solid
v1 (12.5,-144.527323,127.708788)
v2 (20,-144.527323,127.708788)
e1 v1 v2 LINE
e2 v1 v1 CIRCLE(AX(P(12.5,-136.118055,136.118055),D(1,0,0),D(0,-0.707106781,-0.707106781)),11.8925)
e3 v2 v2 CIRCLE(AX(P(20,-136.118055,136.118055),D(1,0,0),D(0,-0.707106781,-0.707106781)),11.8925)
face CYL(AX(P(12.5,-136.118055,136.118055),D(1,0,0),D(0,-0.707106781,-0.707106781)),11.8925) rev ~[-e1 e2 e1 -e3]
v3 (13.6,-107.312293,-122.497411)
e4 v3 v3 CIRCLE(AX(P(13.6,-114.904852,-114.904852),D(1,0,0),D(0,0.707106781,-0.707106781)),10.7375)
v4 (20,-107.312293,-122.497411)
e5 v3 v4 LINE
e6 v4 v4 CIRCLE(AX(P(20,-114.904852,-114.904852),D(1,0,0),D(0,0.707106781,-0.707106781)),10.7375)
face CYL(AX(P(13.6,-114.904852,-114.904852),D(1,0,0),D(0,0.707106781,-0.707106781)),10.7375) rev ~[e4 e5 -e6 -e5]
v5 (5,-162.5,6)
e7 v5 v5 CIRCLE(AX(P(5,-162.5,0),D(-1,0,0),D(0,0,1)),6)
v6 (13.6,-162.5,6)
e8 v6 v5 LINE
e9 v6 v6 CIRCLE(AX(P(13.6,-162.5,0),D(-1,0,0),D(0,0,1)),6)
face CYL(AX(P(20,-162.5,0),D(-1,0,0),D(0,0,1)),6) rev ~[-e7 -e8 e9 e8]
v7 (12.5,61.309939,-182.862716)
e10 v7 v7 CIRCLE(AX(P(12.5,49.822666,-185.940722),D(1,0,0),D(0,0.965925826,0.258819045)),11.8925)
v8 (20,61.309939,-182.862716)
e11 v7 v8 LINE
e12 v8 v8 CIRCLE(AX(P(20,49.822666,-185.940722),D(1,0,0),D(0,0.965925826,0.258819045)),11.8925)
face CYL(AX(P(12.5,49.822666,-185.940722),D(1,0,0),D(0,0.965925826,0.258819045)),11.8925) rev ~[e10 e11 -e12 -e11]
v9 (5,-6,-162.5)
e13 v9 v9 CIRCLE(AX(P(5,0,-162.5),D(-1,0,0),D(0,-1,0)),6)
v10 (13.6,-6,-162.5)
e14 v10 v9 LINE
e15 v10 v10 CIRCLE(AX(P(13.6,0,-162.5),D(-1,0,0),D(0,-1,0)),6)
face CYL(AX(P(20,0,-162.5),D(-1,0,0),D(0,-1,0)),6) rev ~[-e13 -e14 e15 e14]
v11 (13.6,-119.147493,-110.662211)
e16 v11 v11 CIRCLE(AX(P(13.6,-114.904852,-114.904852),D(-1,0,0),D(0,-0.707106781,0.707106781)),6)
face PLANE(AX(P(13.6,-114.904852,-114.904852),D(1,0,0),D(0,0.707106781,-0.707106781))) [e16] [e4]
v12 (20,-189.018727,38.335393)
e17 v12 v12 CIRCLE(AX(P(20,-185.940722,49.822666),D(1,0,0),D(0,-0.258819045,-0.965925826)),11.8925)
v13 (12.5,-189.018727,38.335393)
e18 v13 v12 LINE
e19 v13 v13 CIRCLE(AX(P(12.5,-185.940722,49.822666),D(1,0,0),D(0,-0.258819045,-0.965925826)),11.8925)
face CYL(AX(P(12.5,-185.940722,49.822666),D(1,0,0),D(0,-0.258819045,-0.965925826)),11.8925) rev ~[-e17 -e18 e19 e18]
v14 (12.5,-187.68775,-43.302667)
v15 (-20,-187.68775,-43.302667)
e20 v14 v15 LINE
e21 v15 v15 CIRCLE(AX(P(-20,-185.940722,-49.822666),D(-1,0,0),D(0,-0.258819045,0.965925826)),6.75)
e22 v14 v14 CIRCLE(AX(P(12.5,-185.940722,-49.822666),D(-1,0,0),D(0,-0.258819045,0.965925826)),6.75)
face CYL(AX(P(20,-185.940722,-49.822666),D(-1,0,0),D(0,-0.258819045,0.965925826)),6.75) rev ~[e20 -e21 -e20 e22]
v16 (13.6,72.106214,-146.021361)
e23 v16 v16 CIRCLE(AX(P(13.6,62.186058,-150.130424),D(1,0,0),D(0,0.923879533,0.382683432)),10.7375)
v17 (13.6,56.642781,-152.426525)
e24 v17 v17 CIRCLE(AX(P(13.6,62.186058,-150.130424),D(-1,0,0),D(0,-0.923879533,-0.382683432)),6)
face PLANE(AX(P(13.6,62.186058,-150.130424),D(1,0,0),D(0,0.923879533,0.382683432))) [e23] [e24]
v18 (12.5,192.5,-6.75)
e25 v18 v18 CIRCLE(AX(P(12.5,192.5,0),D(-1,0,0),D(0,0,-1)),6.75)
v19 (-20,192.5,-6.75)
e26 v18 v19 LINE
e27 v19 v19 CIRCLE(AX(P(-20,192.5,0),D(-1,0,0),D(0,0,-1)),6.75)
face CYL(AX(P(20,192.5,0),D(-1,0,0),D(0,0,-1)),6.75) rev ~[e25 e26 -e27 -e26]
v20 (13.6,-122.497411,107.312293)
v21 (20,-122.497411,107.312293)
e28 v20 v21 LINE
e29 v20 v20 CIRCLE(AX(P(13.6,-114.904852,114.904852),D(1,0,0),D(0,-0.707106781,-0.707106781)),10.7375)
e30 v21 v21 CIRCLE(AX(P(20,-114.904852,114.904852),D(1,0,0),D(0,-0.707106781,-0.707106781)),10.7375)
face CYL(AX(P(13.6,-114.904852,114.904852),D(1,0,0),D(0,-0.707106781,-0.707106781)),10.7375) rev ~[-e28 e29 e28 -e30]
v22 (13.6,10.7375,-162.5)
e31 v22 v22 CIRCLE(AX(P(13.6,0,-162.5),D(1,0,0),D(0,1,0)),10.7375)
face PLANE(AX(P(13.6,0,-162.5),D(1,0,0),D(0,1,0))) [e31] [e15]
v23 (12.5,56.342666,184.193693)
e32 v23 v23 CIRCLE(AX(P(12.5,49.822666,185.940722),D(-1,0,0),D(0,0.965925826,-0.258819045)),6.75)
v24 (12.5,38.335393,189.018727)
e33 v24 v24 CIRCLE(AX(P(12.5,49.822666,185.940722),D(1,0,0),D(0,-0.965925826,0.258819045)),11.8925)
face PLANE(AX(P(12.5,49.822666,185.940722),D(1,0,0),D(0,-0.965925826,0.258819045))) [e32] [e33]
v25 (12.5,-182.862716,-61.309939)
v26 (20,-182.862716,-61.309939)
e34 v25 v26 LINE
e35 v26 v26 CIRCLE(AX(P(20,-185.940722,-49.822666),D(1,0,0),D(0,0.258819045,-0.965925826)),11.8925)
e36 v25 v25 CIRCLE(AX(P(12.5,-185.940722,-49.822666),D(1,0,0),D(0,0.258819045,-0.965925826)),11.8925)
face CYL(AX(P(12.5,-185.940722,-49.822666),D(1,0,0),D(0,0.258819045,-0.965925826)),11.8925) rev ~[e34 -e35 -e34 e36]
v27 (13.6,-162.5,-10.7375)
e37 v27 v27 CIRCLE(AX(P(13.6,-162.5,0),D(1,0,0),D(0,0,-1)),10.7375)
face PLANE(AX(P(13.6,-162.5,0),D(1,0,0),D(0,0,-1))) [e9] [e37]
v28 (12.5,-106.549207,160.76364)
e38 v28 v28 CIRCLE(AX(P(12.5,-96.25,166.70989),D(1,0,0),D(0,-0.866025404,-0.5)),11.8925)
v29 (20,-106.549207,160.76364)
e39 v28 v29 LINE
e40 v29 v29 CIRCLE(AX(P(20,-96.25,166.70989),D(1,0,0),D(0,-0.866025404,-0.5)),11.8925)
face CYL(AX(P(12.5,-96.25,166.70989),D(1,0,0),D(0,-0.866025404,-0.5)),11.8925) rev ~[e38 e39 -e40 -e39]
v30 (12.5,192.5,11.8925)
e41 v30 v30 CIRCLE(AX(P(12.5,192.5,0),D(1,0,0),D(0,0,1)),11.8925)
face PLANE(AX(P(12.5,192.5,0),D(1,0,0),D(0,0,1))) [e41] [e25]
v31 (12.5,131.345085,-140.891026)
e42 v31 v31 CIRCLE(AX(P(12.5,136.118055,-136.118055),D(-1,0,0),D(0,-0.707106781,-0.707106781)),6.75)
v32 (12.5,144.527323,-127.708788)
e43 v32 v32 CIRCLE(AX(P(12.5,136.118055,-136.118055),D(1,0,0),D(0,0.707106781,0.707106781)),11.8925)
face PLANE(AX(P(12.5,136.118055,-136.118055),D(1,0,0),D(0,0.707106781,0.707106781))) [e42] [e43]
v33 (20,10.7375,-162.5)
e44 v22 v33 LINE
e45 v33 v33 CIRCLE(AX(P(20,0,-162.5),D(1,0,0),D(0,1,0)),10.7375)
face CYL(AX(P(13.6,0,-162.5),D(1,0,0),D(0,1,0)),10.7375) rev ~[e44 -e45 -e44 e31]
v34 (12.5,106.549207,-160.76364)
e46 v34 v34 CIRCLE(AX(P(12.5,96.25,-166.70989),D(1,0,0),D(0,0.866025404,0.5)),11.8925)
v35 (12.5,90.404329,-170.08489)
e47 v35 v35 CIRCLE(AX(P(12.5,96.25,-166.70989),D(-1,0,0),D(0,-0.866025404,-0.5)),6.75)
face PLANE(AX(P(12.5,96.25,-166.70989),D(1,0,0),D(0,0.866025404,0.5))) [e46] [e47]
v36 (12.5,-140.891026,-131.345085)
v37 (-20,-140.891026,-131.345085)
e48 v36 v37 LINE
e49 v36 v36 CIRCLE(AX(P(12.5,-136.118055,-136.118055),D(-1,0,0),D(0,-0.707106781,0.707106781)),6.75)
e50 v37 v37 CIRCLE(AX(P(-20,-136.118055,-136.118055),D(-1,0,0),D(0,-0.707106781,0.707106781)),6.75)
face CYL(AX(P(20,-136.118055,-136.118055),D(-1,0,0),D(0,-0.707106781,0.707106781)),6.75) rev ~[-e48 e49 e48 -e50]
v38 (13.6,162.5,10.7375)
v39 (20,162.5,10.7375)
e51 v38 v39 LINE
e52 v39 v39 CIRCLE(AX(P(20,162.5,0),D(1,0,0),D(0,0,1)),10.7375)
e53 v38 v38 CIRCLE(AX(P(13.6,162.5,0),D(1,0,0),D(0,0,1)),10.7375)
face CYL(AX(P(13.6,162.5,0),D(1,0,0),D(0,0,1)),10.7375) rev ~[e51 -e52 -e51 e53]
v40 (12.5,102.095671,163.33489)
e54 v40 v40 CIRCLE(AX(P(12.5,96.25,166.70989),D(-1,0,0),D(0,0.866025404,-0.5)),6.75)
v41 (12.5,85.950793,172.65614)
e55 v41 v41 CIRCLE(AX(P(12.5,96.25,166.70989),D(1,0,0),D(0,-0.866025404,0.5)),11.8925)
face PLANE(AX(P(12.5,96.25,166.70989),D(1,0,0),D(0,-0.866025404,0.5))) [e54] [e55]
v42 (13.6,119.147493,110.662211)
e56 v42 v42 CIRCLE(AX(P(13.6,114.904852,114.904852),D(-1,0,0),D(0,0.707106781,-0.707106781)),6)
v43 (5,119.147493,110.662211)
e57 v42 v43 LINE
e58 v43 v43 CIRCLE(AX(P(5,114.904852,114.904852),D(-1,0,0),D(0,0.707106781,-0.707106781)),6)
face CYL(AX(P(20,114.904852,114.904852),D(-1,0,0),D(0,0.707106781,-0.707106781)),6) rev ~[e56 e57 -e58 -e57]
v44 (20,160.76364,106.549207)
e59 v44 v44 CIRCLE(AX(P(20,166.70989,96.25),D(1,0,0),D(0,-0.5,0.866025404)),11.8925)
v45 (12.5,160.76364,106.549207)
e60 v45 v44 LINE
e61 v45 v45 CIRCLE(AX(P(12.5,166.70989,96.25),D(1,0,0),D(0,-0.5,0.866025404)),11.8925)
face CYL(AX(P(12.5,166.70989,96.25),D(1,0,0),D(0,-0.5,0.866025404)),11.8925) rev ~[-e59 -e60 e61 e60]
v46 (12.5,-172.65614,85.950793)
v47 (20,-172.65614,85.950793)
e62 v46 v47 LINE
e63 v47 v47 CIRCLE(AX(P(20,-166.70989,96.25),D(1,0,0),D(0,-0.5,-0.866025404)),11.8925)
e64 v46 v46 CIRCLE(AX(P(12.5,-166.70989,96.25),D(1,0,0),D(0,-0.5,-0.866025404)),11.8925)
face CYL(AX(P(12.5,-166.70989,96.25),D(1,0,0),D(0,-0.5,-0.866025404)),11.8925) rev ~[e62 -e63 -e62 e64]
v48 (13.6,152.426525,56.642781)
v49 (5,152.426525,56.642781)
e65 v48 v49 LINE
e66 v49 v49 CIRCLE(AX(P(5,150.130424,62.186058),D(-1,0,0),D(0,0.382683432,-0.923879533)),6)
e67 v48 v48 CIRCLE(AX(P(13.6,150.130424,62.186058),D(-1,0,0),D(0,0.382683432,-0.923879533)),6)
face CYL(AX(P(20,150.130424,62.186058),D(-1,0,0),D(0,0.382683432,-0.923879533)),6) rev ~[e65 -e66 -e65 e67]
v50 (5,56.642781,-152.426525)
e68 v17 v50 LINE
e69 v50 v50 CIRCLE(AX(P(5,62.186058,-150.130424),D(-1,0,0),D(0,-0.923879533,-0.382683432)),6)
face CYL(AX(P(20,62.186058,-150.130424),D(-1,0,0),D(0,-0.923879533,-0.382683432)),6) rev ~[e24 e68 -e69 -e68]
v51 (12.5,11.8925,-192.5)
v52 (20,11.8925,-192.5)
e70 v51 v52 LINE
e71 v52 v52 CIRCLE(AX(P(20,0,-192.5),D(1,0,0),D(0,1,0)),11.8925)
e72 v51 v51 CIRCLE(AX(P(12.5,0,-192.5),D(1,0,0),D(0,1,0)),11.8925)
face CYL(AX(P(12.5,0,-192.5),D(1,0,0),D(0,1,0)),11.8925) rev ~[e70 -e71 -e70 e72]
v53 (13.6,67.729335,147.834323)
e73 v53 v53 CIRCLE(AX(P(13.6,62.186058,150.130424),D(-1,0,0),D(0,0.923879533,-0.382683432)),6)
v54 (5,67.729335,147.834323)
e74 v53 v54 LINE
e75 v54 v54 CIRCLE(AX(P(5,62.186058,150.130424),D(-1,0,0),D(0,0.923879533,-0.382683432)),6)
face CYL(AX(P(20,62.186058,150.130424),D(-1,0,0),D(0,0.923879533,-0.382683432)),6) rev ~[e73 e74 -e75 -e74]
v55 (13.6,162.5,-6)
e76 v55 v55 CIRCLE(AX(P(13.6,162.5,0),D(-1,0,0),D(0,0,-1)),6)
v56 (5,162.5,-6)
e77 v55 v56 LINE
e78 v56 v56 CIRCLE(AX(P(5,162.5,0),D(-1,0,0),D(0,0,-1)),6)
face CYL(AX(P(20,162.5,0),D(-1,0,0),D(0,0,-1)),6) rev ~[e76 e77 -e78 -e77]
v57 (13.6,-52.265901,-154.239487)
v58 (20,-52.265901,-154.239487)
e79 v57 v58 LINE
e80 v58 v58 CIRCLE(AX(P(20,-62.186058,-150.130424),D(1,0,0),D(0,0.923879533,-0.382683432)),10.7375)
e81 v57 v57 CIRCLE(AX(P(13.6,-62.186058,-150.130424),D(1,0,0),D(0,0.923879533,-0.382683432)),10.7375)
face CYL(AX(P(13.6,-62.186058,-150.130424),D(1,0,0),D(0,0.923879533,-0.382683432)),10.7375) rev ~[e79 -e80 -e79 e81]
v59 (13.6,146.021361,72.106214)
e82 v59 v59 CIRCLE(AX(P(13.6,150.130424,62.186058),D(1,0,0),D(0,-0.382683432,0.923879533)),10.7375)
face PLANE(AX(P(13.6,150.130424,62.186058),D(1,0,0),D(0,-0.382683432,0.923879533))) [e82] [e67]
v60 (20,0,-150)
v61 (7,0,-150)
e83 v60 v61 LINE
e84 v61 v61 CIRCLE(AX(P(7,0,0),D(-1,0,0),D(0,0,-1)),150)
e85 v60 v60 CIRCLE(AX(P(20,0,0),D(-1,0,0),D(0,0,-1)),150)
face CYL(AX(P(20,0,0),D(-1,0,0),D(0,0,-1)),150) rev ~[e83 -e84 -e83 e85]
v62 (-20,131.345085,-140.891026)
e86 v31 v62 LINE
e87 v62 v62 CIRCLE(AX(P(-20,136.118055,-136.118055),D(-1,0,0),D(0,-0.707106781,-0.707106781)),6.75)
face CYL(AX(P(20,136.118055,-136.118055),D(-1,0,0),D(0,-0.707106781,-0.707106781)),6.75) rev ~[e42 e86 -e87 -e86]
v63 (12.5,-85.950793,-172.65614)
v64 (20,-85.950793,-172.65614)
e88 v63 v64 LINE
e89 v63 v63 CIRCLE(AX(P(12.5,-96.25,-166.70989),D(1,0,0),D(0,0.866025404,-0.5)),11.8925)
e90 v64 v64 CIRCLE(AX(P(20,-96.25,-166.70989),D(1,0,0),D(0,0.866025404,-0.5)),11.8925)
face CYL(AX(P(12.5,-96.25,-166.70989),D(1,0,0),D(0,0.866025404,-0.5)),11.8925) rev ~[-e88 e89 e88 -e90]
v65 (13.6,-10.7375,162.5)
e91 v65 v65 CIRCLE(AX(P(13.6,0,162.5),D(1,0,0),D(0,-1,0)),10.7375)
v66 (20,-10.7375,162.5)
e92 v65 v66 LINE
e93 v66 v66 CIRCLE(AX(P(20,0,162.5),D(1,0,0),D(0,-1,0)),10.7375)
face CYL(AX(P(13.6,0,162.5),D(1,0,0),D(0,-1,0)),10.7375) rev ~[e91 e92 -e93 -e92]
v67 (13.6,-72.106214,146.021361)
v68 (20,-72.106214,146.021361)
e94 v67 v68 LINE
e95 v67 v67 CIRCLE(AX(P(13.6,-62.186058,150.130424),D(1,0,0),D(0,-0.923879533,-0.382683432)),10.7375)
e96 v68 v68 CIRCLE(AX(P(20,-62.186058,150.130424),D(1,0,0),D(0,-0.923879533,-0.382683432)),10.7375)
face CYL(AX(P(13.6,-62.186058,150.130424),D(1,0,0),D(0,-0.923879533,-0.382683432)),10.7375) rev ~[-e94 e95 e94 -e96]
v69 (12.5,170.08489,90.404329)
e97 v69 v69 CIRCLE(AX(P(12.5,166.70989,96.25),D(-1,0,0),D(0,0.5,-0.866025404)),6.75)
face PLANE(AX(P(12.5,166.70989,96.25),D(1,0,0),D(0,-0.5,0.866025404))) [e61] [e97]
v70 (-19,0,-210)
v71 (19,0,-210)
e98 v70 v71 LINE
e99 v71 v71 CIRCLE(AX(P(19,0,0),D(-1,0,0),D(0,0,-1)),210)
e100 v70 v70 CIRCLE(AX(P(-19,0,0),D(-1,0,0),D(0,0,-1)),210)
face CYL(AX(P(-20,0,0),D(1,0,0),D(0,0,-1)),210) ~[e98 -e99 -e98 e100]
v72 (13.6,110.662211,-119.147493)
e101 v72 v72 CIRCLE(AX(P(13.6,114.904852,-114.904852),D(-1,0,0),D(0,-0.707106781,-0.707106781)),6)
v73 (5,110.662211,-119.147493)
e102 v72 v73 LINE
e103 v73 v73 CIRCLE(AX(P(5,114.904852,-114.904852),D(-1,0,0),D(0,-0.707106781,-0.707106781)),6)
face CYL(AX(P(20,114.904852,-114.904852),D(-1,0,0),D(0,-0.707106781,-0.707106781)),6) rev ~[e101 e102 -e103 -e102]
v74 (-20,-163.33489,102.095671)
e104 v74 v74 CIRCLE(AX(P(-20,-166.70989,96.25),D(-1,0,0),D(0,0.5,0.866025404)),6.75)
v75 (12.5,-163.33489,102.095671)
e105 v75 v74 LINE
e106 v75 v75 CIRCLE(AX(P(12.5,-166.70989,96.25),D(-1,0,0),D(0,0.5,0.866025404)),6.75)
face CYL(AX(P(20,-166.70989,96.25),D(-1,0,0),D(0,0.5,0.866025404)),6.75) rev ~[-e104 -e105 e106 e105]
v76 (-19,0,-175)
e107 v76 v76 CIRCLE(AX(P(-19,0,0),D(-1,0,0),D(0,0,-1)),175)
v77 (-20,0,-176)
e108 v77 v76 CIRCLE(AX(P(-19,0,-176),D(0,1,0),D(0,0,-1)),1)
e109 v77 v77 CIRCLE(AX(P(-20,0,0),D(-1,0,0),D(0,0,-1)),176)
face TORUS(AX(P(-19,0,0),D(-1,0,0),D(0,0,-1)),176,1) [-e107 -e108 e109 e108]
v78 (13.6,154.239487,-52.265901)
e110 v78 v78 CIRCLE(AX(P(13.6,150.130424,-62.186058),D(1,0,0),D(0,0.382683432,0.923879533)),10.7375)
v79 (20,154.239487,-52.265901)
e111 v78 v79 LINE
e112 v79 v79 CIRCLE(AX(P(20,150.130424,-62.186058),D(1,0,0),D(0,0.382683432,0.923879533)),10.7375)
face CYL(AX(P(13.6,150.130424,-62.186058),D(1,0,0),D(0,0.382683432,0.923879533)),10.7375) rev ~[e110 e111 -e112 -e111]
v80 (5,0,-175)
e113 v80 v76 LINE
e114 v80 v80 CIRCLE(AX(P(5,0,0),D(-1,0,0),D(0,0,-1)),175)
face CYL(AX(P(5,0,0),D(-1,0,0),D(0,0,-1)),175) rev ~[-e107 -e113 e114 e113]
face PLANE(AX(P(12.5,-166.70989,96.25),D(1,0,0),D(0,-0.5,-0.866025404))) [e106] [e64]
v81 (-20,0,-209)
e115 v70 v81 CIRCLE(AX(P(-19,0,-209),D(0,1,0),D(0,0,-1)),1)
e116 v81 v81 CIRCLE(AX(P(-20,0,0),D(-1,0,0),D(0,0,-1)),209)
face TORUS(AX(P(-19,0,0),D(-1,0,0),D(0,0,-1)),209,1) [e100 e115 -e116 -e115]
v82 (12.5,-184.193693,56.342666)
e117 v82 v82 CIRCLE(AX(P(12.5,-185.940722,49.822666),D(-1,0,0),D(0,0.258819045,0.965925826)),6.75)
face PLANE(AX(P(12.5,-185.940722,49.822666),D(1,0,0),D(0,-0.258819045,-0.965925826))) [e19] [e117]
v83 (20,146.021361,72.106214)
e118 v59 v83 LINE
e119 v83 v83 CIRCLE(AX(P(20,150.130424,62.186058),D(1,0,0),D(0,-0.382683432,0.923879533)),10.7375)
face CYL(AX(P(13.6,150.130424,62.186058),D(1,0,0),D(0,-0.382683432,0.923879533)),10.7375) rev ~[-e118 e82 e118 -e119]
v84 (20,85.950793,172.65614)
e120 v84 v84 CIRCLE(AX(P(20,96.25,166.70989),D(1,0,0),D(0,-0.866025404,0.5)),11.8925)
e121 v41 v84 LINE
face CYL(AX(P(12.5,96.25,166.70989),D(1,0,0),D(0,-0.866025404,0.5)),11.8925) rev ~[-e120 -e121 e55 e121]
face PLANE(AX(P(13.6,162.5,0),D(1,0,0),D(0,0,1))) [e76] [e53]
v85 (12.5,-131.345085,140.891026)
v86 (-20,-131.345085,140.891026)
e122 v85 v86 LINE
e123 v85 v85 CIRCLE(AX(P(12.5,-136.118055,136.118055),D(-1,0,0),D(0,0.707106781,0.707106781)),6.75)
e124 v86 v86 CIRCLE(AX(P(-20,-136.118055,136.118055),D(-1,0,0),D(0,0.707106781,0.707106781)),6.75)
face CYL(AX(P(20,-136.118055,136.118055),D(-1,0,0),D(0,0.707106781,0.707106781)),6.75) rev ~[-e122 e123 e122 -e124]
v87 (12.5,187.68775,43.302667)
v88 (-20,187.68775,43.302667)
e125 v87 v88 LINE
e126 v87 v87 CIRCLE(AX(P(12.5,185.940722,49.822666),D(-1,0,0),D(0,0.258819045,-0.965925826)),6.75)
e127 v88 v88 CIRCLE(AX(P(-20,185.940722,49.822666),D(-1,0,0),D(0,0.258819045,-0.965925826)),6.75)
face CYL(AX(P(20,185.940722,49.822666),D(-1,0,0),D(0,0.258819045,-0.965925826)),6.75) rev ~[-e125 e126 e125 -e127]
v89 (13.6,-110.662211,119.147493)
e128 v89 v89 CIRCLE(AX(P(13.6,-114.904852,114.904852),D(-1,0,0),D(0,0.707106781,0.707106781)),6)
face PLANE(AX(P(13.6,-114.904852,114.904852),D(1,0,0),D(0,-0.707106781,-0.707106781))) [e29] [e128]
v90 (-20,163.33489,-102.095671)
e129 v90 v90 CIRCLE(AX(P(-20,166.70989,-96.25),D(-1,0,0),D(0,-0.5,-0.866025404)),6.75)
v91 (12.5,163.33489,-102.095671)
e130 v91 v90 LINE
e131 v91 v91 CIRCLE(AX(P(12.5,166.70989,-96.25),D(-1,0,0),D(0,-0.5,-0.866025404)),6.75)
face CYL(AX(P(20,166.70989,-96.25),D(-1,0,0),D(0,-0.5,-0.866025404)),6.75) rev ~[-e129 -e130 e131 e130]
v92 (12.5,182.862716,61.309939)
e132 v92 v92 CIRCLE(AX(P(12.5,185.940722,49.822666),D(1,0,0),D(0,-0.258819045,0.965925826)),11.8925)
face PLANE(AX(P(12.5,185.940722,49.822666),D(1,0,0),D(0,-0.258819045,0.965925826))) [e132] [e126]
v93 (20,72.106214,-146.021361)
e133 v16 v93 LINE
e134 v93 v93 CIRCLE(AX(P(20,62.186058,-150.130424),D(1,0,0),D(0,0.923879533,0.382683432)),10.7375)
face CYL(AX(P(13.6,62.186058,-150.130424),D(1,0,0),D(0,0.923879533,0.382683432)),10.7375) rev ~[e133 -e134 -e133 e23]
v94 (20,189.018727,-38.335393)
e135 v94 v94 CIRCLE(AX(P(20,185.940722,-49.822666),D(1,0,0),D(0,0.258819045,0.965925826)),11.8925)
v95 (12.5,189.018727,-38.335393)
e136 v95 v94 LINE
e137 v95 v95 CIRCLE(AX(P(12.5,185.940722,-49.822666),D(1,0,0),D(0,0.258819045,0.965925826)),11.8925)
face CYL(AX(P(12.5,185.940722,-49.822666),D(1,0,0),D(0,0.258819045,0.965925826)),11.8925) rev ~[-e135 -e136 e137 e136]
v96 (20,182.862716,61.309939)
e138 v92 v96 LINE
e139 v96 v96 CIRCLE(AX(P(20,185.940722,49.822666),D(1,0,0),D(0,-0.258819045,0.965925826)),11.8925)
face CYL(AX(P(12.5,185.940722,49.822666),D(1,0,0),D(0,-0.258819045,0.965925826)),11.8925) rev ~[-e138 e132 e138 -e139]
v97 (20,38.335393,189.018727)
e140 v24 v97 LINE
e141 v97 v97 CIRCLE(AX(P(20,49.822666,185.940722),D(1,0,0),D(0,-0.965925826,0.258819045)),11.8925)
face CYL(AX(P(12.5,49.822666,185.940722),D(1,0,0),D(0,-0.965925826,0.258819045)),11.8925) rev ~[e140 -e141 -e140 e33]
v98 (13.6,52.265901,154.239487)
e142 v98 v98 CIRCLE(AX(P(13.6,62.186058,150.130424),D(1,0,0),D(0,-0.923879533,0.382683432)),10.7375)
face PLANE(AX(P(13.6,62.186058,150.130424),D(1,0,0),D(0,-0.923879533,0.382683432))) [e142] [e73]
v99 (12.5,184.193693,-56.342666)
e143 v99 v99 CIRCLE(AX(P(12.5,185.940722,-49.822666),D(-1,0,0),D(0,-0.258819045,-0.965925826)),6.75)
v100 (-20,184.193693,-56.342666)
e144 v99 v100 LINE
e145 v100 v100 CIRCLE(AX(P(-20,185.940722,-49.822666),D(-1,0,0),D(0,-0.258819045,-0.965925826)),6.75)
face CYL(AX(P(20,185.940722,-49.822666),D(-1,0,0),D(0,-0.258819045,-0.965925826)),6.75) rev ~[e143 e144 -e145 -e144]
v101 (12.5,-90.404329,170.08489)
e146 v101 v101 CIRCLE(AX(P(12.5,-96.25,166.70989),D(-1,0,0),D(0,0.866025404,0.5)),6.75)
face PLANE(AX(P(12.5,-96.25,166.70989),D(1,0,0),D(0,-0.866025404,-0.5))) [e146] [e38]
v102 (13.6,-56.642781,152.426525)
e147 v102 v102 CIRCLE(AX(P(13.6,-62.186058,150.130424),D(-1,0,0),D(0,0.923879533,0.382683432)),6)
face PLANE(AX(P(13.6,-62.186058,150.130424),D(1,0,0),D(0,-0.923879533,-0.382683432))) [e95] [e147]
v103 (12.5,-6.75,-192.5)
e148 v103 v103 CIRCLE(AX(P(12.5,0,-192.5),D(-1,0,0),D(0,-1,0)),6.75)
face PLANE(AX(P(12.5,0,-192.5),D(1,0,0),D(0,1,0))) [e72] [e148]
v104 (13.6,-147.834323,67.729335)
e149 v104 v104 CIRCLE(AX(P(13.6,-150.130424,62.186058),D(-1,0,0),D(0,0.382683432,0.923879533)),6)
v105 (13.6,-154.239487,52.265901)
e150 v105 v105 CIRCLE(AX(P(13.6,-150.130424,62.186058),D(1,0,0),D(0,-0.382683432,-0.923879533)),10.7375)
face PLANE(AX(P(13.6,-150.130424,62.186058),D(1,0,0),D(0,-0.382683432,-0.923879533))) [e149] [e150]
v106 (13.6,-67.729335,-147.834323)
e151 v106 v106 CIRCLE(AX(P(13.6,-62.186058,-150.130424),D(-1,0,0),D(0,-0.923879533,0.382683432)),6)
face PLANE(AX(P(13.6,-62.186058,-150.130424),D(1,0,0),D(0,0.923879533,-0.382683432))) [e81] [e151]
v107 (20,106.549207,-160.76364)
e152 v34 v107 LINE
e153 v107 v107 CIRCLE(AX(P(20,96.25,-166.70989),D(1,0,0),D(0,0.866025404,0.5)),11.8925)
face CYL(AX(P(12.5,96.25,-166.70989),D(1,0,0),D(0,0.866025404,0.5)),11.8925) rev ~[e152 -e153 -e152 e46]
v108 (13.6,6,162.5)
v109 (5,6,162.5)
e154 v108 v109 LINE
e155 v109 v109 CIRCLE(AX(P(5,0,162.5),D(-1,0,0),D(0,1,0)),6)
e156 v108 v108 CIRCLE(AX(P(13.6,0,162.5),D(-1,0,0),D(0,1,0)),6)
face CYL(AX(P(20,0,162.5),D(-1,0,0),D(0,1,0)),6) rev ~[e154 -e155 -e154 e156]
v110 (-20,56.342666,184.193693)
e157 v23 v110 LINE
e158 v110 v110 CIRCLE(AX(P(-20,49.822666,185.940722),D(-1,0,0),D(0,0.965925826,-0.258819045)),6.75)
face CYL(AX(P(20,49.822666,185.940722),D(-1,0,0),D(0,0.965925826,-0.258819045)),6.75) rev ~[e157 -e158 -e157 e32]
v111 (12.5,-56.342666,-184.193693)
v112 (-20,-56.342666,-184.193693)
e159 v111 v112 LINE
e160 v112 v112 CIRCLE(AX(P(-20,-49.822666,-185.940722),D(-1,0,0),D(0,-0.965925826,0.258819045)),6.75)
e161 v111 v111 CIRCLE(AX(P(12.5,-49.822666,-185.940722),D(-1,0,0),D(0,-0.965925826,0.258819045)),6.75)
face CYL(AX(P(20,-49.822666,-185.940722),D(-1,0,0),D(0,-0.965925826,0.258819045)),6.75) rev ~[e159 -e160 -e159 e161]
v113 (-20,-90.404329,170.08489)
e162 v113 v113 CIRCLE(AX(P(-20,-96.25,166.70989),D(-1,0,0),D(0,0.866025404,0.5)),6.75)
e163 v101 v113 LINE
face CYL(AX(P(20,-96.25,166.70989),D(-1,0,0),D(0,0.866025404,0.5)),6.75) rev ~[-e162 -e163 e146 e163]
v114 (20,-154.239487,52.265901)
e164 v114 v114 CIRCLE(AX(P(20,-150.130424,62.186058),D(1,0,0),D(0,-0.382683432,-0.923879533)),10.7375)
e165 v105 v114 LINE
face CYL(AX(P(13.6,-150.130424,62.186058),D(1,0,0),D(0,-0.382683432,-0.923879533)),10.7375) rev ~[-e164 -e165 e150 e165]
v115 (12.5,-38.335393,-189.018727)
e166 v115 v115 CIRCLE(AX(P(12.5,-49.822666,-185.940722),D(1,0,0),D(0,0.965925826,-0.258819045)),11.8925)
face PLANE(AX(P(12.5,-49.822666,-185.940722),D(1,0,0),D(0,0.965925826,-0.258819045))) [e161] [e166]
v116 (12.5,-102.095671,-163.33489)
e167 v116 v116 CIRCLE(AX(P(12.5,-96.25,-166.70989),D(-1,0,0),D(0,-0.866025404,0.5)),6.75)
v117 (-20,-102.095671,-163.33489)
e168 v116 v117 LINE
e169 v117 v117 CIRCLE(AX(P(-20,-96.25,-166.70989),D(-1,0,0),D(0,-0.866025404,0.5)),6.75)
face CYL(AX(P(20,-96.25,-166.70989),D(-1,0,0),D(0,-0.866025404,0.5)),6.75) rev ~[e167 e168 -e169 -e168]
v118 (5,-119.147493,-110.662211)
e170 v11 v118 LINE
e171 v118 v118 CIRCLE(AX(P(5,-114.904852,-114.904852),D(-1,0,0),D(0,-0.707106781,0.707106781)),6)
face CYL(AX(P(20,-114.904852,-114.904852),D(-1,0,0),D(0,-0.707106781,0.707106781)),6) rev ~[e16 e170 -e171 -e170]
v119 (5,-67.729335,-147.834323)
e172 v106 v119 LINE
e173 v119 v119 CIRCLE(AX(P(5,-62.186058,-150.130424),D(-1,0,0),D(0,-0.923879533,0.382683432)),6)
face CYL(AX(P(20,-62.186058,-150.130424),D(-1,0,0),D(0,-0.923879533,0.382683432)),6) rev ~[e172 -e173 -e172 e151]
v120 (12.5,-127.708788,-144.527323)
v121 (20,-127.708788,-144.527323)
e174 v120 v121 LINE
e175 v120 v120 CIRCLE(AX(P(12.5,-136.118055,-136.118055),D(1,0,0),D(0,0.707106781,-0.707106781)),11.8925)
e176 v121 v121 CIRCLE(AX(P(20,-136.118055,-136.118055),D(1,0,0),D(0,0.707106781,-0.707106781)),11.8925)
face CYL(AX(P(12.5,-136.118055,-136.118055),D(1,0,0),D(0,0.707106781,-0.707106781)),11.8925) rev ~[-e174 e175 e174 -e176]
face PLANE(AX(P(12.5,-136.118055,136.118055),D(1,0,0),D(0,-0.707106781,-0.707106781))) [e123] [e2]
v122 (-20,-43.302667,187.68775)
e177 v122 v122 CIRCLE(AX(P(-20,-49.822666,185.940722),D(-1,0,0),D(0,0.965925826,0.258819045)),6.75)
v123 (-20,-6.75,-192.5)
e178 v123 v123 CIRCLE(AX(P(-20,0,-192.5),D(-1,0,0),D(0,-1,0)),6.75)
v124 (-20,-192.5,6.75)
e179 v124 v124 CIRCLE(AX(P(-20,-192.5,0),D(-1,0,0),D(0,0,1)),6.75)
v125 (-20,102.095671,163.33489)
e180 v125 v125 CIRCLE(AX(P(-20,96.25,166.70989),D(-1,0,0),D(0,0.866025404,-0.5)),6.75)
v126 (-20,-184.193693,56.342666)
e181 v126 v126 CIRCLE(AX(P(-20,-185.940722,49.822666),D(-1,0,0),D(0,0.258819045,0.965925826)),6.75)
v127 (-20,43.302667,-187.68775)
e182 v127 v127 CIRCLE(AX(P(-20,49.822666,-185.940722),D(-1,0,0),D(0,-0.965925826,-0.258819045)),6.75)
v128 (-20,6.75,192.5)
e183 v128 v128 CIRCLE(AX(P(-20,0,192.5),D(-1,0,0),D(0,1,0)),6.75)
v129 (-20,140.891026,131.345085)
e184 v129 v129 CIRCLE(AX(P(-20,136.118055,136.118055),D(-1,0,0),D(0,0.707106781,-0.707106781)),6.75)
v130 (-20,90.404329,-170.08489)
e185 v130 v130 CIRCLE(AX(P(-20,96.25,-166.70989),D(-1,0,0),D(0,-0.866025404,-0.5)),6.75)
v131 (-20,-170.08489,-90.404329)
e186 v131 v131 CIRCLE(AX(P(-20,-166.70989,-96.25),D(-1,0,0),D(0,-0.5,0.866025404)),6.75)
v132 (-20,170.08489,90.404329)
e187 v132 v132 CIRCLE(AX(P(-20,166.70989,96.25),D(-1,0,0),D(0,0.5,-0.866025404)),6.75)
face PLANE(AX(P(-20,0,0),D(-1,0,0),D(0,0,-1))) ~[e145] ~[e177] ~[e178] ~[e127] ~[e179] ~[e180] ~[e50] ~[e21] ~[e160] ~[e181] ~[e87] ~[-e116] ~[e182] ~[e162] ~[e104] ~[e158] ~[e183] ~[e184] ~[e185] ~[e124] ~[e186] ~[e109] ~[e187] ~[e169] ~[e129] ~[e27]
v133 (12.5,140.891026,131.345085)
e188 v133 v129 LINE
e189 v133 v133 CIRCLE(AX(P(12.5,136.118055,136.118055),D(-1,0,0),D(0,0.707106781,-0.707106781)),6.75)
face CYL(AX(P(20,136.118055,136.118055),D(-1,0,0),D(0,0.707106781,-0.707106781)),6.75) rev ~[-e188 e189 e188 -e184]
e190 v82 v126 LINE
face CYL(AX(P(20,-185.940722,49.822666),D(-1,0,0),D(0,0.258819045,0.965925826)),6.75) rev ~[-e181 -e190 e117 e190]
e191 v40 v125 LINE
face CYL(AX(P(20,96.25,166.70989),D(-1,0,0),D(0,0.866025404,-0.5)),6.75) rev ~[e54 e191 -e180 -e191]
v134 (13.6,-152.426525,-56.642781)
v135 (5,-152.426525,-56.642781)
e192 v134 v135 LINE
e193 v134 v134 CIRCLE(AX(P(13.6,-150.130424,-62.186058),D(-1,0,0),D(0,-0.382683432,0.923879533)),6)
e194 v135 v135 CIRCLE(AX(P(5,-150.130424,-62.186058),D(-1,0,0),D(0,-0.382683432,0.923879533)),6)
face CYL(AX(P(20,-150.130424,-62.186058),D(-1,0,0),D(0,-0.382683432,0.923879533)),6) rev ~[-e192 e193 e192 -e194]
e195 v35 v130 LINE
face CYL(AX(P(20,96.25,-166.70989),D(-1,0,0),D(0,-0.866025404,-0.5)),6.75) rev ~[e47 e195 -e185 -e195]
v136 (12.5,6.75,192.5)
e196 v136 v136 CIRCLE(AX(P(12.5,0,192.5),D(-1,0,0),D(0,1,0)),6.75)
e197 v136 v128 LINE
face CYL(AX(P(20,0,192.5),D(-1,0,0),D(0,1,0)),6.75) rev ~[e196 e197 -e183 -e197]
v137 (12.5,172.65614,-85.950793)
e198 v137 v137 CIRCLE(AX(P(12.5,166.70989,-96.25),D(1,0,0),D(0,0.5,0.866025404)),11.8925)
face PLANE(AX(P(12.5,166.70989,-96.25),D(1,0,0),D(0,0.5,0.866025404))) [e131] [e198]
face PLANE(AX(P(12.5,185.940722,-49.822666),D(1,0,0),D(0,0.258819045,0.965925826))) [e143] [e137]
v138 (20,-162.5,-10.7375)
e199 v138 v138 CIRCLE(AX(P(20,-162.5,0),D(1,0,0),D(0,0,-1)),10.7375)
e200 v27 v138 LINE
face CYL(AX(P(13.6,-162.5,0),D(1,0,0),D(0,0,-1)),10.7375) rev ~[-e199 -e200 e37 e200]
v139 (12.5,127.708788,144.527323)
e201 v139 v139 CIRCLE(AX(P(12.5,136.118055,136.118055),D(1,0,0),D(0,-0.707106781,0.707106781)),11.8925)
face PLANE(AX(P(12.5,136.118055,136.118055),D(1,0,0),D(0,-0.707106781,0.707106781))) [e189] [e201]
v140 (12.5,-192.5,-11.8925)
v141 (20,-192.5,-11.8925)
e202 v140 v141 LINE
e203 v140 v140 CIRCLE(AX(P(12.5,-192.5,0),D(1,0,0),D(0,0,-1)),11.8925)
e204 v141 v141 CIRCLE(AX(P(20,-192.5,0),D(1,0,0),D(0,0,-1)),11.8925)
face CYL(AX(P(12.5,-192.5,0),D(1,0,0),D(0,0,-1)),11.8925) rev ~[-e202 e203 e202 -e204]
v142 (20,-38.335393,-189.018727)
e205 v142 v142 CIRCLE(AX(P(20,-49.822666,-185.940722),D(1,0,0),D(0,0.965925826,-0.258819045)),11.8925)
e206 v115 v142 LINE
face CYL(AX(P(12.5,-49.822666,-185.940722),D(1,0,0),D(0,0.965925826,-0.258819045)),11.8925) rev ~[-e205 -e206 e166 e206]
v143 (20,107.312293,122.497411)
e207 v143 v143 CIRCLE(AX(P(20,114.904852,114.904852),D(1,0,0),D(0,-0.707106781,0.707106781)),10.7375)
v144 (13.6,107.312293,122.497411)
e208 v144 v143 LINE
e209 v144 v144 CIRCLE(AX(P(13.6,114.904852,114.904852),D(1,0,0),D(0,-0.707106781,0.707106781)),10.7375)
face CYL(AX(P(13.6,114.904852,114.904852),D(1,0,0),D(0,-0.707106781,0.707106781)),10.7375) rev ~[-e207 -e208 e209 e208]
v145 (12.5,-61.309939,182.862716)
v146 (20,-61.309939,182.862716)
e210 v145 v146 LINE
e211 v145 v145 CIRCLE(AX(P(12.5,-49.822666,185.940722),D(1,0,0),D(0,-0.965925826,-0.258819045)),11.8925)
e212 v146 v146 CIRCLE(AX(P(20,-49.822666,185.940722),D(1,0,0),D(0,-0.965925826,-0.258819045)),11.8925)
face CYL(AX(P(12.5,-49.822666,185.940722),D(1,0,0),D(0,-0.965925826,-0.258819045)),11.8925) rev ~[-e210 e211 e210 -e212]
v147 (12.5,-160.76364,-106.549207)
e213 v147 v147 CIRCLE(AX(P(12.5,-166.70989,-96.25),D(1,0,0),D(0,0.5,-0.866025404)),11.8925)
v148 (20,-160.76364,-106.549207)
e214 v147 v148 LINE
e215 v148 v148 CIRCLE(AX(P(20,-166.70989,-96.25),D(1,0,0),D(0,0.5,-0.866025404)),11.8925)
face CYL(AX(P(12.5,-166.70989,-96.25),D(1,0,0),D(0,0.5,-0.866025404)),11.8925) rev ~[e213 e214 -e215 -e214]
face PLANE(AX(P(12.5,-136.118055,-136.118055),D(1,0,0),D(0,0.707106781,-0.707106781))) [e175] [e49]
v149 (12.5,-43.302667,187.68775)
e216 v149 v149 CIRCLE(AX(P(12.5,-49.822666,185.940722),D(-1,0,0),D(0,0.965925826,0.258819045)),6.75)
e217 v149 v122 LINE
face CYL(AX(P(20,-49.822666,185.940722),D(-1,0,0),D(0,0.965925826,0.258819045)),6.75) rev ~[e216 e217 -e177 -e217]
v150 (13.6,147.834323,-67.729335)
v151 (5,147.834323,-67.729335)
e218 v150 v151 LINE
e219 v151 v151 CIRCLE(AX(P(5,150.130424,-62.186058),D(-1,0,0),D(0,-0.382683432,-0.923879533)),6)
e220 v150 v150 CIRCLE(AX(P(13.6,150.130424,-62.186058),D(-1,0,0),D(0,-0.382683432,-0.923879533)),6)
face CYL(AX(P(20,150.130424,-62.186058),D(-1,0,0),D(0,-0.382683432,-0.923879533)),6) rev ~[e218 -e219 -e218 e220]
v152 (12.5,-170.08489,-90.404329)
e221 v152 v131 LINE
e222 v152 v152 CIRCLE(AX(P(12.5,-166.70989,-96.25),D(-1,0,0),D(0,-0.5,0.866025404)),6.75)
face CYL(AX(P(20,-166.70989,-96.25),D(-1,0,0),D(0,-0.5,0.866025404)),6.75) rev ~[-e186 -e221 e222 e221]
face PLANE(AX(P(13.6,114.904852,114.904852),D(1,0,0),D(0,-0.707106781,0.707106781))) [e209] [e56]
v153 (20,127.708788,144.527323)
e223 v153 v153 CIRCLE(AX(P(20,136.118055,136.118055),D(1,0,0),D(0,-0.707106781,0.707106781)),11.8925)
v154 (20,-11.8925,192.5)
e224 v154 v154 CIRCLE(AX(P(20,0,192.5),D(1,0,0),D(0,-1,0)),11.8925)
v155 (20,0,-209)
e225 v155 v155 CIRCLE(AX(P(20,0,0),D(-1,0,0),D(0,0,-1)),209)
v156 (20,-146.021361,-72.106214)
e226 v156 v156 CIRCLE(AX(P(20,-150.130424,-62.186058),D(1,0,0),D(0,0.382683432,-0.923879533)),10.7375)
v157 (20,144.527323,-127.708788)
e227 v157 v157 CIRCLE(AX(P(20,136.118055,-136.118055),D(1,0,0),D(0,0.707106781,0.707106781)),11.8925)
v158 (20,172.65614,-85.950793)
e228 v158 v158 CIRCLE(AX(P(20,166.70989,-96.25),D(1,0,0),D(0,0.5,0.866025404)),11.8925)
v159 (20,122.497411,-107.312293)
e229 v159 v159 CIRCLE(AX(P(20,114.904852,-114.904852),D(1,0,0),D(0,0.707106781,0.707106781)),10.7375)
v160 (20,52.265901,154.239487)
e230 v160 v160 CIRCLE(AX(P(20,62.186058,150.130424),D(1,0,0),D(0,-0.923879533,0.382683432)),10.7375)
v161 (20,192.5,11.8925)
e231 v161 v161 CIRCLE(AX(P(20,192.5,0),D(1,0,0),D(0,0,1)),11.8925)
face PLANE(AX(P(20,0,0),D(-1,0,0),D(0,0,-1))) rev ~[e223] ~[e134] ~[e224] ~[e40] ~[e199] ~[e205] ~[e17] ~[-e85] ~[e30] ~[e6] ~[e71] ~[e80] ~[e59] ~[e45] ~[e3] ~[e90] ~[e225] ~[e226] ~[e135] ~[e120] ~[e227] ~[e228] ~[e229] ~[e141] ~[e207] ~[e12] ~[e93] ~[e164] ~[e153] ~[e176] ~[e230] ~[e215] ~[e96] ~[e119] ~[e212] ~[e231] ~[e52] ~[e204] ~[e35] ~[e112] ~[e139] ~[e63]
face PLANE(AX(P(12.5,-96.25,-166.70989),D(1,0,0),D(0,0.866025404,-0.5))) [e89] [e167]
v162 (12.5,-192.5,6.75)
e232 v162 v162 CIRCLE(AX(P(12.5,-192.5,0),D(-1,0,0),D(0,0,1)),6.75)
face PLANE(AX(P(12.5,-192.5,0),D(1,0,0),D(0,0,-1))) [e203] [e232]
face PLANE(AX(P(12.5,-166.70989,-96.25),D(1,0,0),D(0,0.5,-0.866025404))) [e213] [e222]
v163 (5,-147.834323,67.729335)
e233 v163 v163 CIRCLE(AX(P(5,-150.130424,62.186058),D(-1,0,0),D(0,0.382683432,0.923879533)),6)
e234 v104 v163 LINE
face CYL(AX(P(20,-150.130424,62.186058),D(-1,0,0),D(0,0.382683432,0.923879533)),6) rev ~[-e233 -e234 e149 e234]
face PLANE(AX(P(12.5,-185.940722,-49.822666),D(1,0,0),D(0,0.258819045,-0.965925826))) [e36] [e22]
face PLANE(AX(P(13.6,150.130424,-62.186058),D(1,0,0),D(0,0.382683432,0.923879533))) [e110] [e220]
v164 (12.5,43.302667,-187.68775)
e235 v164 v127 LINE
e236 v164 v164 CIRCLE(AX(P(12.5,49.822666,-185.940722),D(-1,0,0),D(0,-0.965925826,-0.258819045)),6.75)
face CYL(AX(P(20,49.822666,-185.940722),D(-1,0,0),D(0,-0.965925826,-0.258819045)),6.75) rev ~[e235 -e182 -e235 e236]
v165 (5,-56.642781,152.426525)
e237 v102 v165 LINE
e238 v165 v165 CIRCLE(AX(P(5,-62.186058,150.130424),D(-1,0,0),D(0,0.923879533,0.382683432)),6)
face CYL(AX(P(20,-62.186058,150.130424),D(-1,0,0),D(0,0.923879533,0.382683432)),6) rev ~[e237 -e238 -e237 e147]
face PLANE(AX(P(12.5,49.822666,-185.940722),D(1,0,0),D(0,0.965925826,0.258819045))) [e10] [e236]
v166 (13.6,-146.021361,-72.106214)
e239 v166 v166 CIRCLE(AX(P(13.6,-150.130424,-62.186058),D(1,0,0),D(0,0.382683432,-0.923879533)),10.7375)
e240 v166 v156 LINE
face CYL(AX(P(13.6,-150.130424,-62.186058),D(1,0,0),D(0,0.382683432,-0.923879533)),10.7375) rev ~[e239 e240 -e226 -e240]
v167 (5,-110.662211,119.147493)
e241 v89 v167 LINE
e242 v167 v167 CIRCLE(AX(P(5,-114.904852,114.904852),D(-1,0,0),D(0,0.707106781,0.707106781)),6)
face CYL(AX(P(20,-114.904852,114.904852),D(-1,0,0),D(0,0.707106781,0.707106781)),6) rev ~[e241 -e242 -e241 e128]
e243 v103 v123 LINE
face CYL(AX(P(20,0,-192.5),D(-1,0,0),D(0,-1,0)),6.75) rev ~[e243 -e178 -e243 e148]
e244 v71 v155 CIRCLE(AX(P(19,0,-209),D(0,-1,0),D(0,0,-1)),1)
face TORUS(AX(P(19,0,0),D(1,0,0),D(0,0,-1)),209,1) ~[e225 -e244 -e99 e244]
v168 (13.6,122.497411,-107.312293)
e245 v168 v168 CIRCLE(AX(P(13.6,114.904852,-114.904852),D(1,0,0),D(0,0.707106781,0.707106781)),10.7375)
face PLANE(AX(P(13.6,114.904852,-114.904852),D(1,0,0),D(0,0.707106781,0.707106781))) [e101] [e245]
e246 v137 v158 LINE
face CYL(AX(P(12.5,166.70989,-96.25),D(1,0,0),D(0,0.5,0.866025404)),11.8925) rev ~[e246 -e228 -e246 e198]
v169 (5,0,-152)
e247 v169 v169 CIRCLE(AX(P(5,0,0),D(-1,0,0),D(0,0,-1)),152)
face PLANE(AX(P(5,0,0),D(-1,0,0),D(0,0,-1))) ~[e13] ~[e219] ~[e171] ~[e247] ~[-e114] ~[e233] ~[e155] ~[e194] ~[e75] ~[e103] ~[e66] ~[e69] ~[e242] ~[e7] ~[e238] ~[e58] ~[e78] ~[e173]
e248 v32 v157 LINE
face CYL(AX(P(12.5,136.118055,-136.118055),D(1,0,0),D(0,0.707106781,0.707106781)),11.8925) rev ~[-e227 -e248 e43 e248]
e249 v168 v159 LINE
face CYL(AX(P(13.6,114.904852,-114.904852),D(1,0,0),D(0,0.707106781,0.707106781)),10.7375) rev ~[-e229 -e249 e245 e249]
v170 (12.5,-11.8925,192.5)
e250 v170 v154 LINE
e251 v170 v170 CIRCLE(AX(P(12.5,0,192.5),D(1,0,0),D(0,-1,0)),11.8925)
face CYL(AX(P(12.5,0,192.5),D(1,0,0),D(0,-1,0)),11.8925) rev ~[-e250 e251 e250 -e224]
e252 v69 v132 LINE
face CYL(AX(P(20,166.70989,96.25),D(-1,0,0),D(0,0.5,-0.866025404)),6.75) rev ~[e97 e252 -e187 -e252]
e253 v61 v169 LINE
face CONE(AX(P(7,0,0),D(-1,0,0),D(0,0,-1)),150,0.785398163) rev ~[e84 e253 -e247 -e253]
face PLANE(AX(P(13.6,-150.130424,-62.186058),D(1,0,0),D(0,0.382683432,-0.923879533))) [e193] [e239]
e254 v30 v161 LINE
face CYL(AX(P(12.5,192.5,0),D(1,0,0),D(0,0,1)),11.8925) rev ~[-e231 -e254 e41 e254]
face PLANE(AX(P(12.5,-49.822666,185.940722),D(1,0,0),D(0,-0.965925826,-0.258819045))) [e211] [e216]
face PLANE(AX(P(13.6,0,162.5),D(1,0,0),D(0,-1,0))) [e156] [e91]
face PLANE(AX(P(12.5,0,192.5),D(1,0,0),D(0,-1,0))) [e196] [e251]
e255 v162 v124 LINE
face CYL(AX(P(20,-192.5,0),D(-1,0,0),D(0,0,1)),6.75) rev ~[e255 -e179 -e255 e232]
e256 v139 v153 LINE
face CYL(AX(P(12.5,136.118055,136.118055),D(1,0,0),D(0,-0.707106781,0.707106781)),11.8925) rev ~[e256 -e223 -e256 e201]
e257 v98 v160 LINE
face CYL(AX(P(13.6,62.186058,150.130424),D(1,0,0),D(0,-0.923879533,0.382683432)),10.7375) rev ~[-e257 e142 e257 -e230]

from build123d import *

# Parameters (mm, degrees)
CBORE_FOR_M12_HEX_HEAD_BOLT3_D           = 13.5
CBORE_FOR_M12_HEX_HEAD_BOLT3_CBORE_D     = 23.785
CBORE_FOR_M12_HEX_HEAD_BOLT3_CBORE_DEPTH = 7.5
CIRPATTERN1_COUNT                        = 24
FILLET1_R                                = 1
CHAMFER1_SIZE                            = 2
CBORE_FOR_M10_HEX_HEAD_BOLT1_D           = 12
CBORE_FOR_M10_HEX_HEAD_BOLT1_CBORE_D     = 21.475
CBORE_FOR_M10_HEX_HEAD_BOLT1_CBORE_DEPTH = 6.4
CIRPATTERN2_COUNT                        = 16


with BuildPart() as part:
    # Sketch1 → Revolve1 (revolve)
    with BuildSketch(Plane.XY):
        Polygon((-20, 210), (20, 210), (20, 150), (5, 150), (5, 175), (-20, 175), align=None)
    revolve(axis=Axis((0, 0, 0), (-1, 0, 0)))

    # CBORE for M12 Hex Head Bolt3 (through all)
    with Locations(Plane(origin=(20, 192.5, 0), x_dir=(0, 0, 1), z_dir=(1, 0, 0))):
        with Locations((0, 0)):
            cbore_for_m12_hex_head_bolt3 = CounterBoreHole(CBORE_FOR_M12_HEX_HEAD_BOLT3_D / 2, CBORE_FOR_M12_HEX_HEAD_BOLT3_CBORE_D / 2, CBORE_FOR_M12_HEX_HEAD_BOLT3_CBORE_DEPTH)

    # CirPattern1: CBORE for M12 Hex Head Bolt3 ×24 about axis
    cirpattern1_axis = Axis((-20, 0, 0), (1, 0, 0))
    for i in range(1, CIRPATTERN1_COUNT):
        add(cbore_for_m12_hex_head_bolt3.rotate(cirpattern1_axis, i * 360 / CIRPATTERN1_COUNT), mode=Mode.SUBTRACT)

    # Fillet1
    fillet1_edges = [part.edges().sort_by_distance(p)[0] for p in [
        (-20, -175, 0),
        (20, -210, 0),
        (-20, -210, 0),
    ]]
    fillet(fillet1_edges, radius=FILLET1_R)

    # Chamfer1
    chamfer1_edges = [part.edges().sort_by_distance(p)[0] for p in [
        (5, -150, 0),
    ]]
    chamfer(chamfer1_edges, length=CHAMFER1_SIZE)

    # CBORE for M10 Hex Head Bolt1 (through all)
    with Locations(Plane(origin=(20, 162.5, 0), x_dir=(0, 0, 1), z_dir=(1, 0, 0))):
        with Locations((0, 0)):
            cbore_for_m10_hex_head_bolt1 = CounterBoreHole(CBORE_FOR_M10_HEX_HEAD_BOLT1_D / 2, CBORE_FOR_M10_HEX_HEAD_BOLT1_CBORE_D / 2, CBORE_FOR_M10_HEX_HEAD_BOLT1_CBORE_DEPTH)

    # CirPattern2: CBORE for M10 Hex Head Bolt1 ×16 about axis
    cirpattern2_axis = Axis((-20, 0, 0), (1, 0, 0))
    for i in range(1, CIRPATTERN2_COUNT):
        add(cbore_for_m10_hex_head_bolt1.rotate(cirpattern2_axis, i * 360 / CIRPATTERN2_COUNT), mode=Mode.SUBTRACT)


solid = part.part
